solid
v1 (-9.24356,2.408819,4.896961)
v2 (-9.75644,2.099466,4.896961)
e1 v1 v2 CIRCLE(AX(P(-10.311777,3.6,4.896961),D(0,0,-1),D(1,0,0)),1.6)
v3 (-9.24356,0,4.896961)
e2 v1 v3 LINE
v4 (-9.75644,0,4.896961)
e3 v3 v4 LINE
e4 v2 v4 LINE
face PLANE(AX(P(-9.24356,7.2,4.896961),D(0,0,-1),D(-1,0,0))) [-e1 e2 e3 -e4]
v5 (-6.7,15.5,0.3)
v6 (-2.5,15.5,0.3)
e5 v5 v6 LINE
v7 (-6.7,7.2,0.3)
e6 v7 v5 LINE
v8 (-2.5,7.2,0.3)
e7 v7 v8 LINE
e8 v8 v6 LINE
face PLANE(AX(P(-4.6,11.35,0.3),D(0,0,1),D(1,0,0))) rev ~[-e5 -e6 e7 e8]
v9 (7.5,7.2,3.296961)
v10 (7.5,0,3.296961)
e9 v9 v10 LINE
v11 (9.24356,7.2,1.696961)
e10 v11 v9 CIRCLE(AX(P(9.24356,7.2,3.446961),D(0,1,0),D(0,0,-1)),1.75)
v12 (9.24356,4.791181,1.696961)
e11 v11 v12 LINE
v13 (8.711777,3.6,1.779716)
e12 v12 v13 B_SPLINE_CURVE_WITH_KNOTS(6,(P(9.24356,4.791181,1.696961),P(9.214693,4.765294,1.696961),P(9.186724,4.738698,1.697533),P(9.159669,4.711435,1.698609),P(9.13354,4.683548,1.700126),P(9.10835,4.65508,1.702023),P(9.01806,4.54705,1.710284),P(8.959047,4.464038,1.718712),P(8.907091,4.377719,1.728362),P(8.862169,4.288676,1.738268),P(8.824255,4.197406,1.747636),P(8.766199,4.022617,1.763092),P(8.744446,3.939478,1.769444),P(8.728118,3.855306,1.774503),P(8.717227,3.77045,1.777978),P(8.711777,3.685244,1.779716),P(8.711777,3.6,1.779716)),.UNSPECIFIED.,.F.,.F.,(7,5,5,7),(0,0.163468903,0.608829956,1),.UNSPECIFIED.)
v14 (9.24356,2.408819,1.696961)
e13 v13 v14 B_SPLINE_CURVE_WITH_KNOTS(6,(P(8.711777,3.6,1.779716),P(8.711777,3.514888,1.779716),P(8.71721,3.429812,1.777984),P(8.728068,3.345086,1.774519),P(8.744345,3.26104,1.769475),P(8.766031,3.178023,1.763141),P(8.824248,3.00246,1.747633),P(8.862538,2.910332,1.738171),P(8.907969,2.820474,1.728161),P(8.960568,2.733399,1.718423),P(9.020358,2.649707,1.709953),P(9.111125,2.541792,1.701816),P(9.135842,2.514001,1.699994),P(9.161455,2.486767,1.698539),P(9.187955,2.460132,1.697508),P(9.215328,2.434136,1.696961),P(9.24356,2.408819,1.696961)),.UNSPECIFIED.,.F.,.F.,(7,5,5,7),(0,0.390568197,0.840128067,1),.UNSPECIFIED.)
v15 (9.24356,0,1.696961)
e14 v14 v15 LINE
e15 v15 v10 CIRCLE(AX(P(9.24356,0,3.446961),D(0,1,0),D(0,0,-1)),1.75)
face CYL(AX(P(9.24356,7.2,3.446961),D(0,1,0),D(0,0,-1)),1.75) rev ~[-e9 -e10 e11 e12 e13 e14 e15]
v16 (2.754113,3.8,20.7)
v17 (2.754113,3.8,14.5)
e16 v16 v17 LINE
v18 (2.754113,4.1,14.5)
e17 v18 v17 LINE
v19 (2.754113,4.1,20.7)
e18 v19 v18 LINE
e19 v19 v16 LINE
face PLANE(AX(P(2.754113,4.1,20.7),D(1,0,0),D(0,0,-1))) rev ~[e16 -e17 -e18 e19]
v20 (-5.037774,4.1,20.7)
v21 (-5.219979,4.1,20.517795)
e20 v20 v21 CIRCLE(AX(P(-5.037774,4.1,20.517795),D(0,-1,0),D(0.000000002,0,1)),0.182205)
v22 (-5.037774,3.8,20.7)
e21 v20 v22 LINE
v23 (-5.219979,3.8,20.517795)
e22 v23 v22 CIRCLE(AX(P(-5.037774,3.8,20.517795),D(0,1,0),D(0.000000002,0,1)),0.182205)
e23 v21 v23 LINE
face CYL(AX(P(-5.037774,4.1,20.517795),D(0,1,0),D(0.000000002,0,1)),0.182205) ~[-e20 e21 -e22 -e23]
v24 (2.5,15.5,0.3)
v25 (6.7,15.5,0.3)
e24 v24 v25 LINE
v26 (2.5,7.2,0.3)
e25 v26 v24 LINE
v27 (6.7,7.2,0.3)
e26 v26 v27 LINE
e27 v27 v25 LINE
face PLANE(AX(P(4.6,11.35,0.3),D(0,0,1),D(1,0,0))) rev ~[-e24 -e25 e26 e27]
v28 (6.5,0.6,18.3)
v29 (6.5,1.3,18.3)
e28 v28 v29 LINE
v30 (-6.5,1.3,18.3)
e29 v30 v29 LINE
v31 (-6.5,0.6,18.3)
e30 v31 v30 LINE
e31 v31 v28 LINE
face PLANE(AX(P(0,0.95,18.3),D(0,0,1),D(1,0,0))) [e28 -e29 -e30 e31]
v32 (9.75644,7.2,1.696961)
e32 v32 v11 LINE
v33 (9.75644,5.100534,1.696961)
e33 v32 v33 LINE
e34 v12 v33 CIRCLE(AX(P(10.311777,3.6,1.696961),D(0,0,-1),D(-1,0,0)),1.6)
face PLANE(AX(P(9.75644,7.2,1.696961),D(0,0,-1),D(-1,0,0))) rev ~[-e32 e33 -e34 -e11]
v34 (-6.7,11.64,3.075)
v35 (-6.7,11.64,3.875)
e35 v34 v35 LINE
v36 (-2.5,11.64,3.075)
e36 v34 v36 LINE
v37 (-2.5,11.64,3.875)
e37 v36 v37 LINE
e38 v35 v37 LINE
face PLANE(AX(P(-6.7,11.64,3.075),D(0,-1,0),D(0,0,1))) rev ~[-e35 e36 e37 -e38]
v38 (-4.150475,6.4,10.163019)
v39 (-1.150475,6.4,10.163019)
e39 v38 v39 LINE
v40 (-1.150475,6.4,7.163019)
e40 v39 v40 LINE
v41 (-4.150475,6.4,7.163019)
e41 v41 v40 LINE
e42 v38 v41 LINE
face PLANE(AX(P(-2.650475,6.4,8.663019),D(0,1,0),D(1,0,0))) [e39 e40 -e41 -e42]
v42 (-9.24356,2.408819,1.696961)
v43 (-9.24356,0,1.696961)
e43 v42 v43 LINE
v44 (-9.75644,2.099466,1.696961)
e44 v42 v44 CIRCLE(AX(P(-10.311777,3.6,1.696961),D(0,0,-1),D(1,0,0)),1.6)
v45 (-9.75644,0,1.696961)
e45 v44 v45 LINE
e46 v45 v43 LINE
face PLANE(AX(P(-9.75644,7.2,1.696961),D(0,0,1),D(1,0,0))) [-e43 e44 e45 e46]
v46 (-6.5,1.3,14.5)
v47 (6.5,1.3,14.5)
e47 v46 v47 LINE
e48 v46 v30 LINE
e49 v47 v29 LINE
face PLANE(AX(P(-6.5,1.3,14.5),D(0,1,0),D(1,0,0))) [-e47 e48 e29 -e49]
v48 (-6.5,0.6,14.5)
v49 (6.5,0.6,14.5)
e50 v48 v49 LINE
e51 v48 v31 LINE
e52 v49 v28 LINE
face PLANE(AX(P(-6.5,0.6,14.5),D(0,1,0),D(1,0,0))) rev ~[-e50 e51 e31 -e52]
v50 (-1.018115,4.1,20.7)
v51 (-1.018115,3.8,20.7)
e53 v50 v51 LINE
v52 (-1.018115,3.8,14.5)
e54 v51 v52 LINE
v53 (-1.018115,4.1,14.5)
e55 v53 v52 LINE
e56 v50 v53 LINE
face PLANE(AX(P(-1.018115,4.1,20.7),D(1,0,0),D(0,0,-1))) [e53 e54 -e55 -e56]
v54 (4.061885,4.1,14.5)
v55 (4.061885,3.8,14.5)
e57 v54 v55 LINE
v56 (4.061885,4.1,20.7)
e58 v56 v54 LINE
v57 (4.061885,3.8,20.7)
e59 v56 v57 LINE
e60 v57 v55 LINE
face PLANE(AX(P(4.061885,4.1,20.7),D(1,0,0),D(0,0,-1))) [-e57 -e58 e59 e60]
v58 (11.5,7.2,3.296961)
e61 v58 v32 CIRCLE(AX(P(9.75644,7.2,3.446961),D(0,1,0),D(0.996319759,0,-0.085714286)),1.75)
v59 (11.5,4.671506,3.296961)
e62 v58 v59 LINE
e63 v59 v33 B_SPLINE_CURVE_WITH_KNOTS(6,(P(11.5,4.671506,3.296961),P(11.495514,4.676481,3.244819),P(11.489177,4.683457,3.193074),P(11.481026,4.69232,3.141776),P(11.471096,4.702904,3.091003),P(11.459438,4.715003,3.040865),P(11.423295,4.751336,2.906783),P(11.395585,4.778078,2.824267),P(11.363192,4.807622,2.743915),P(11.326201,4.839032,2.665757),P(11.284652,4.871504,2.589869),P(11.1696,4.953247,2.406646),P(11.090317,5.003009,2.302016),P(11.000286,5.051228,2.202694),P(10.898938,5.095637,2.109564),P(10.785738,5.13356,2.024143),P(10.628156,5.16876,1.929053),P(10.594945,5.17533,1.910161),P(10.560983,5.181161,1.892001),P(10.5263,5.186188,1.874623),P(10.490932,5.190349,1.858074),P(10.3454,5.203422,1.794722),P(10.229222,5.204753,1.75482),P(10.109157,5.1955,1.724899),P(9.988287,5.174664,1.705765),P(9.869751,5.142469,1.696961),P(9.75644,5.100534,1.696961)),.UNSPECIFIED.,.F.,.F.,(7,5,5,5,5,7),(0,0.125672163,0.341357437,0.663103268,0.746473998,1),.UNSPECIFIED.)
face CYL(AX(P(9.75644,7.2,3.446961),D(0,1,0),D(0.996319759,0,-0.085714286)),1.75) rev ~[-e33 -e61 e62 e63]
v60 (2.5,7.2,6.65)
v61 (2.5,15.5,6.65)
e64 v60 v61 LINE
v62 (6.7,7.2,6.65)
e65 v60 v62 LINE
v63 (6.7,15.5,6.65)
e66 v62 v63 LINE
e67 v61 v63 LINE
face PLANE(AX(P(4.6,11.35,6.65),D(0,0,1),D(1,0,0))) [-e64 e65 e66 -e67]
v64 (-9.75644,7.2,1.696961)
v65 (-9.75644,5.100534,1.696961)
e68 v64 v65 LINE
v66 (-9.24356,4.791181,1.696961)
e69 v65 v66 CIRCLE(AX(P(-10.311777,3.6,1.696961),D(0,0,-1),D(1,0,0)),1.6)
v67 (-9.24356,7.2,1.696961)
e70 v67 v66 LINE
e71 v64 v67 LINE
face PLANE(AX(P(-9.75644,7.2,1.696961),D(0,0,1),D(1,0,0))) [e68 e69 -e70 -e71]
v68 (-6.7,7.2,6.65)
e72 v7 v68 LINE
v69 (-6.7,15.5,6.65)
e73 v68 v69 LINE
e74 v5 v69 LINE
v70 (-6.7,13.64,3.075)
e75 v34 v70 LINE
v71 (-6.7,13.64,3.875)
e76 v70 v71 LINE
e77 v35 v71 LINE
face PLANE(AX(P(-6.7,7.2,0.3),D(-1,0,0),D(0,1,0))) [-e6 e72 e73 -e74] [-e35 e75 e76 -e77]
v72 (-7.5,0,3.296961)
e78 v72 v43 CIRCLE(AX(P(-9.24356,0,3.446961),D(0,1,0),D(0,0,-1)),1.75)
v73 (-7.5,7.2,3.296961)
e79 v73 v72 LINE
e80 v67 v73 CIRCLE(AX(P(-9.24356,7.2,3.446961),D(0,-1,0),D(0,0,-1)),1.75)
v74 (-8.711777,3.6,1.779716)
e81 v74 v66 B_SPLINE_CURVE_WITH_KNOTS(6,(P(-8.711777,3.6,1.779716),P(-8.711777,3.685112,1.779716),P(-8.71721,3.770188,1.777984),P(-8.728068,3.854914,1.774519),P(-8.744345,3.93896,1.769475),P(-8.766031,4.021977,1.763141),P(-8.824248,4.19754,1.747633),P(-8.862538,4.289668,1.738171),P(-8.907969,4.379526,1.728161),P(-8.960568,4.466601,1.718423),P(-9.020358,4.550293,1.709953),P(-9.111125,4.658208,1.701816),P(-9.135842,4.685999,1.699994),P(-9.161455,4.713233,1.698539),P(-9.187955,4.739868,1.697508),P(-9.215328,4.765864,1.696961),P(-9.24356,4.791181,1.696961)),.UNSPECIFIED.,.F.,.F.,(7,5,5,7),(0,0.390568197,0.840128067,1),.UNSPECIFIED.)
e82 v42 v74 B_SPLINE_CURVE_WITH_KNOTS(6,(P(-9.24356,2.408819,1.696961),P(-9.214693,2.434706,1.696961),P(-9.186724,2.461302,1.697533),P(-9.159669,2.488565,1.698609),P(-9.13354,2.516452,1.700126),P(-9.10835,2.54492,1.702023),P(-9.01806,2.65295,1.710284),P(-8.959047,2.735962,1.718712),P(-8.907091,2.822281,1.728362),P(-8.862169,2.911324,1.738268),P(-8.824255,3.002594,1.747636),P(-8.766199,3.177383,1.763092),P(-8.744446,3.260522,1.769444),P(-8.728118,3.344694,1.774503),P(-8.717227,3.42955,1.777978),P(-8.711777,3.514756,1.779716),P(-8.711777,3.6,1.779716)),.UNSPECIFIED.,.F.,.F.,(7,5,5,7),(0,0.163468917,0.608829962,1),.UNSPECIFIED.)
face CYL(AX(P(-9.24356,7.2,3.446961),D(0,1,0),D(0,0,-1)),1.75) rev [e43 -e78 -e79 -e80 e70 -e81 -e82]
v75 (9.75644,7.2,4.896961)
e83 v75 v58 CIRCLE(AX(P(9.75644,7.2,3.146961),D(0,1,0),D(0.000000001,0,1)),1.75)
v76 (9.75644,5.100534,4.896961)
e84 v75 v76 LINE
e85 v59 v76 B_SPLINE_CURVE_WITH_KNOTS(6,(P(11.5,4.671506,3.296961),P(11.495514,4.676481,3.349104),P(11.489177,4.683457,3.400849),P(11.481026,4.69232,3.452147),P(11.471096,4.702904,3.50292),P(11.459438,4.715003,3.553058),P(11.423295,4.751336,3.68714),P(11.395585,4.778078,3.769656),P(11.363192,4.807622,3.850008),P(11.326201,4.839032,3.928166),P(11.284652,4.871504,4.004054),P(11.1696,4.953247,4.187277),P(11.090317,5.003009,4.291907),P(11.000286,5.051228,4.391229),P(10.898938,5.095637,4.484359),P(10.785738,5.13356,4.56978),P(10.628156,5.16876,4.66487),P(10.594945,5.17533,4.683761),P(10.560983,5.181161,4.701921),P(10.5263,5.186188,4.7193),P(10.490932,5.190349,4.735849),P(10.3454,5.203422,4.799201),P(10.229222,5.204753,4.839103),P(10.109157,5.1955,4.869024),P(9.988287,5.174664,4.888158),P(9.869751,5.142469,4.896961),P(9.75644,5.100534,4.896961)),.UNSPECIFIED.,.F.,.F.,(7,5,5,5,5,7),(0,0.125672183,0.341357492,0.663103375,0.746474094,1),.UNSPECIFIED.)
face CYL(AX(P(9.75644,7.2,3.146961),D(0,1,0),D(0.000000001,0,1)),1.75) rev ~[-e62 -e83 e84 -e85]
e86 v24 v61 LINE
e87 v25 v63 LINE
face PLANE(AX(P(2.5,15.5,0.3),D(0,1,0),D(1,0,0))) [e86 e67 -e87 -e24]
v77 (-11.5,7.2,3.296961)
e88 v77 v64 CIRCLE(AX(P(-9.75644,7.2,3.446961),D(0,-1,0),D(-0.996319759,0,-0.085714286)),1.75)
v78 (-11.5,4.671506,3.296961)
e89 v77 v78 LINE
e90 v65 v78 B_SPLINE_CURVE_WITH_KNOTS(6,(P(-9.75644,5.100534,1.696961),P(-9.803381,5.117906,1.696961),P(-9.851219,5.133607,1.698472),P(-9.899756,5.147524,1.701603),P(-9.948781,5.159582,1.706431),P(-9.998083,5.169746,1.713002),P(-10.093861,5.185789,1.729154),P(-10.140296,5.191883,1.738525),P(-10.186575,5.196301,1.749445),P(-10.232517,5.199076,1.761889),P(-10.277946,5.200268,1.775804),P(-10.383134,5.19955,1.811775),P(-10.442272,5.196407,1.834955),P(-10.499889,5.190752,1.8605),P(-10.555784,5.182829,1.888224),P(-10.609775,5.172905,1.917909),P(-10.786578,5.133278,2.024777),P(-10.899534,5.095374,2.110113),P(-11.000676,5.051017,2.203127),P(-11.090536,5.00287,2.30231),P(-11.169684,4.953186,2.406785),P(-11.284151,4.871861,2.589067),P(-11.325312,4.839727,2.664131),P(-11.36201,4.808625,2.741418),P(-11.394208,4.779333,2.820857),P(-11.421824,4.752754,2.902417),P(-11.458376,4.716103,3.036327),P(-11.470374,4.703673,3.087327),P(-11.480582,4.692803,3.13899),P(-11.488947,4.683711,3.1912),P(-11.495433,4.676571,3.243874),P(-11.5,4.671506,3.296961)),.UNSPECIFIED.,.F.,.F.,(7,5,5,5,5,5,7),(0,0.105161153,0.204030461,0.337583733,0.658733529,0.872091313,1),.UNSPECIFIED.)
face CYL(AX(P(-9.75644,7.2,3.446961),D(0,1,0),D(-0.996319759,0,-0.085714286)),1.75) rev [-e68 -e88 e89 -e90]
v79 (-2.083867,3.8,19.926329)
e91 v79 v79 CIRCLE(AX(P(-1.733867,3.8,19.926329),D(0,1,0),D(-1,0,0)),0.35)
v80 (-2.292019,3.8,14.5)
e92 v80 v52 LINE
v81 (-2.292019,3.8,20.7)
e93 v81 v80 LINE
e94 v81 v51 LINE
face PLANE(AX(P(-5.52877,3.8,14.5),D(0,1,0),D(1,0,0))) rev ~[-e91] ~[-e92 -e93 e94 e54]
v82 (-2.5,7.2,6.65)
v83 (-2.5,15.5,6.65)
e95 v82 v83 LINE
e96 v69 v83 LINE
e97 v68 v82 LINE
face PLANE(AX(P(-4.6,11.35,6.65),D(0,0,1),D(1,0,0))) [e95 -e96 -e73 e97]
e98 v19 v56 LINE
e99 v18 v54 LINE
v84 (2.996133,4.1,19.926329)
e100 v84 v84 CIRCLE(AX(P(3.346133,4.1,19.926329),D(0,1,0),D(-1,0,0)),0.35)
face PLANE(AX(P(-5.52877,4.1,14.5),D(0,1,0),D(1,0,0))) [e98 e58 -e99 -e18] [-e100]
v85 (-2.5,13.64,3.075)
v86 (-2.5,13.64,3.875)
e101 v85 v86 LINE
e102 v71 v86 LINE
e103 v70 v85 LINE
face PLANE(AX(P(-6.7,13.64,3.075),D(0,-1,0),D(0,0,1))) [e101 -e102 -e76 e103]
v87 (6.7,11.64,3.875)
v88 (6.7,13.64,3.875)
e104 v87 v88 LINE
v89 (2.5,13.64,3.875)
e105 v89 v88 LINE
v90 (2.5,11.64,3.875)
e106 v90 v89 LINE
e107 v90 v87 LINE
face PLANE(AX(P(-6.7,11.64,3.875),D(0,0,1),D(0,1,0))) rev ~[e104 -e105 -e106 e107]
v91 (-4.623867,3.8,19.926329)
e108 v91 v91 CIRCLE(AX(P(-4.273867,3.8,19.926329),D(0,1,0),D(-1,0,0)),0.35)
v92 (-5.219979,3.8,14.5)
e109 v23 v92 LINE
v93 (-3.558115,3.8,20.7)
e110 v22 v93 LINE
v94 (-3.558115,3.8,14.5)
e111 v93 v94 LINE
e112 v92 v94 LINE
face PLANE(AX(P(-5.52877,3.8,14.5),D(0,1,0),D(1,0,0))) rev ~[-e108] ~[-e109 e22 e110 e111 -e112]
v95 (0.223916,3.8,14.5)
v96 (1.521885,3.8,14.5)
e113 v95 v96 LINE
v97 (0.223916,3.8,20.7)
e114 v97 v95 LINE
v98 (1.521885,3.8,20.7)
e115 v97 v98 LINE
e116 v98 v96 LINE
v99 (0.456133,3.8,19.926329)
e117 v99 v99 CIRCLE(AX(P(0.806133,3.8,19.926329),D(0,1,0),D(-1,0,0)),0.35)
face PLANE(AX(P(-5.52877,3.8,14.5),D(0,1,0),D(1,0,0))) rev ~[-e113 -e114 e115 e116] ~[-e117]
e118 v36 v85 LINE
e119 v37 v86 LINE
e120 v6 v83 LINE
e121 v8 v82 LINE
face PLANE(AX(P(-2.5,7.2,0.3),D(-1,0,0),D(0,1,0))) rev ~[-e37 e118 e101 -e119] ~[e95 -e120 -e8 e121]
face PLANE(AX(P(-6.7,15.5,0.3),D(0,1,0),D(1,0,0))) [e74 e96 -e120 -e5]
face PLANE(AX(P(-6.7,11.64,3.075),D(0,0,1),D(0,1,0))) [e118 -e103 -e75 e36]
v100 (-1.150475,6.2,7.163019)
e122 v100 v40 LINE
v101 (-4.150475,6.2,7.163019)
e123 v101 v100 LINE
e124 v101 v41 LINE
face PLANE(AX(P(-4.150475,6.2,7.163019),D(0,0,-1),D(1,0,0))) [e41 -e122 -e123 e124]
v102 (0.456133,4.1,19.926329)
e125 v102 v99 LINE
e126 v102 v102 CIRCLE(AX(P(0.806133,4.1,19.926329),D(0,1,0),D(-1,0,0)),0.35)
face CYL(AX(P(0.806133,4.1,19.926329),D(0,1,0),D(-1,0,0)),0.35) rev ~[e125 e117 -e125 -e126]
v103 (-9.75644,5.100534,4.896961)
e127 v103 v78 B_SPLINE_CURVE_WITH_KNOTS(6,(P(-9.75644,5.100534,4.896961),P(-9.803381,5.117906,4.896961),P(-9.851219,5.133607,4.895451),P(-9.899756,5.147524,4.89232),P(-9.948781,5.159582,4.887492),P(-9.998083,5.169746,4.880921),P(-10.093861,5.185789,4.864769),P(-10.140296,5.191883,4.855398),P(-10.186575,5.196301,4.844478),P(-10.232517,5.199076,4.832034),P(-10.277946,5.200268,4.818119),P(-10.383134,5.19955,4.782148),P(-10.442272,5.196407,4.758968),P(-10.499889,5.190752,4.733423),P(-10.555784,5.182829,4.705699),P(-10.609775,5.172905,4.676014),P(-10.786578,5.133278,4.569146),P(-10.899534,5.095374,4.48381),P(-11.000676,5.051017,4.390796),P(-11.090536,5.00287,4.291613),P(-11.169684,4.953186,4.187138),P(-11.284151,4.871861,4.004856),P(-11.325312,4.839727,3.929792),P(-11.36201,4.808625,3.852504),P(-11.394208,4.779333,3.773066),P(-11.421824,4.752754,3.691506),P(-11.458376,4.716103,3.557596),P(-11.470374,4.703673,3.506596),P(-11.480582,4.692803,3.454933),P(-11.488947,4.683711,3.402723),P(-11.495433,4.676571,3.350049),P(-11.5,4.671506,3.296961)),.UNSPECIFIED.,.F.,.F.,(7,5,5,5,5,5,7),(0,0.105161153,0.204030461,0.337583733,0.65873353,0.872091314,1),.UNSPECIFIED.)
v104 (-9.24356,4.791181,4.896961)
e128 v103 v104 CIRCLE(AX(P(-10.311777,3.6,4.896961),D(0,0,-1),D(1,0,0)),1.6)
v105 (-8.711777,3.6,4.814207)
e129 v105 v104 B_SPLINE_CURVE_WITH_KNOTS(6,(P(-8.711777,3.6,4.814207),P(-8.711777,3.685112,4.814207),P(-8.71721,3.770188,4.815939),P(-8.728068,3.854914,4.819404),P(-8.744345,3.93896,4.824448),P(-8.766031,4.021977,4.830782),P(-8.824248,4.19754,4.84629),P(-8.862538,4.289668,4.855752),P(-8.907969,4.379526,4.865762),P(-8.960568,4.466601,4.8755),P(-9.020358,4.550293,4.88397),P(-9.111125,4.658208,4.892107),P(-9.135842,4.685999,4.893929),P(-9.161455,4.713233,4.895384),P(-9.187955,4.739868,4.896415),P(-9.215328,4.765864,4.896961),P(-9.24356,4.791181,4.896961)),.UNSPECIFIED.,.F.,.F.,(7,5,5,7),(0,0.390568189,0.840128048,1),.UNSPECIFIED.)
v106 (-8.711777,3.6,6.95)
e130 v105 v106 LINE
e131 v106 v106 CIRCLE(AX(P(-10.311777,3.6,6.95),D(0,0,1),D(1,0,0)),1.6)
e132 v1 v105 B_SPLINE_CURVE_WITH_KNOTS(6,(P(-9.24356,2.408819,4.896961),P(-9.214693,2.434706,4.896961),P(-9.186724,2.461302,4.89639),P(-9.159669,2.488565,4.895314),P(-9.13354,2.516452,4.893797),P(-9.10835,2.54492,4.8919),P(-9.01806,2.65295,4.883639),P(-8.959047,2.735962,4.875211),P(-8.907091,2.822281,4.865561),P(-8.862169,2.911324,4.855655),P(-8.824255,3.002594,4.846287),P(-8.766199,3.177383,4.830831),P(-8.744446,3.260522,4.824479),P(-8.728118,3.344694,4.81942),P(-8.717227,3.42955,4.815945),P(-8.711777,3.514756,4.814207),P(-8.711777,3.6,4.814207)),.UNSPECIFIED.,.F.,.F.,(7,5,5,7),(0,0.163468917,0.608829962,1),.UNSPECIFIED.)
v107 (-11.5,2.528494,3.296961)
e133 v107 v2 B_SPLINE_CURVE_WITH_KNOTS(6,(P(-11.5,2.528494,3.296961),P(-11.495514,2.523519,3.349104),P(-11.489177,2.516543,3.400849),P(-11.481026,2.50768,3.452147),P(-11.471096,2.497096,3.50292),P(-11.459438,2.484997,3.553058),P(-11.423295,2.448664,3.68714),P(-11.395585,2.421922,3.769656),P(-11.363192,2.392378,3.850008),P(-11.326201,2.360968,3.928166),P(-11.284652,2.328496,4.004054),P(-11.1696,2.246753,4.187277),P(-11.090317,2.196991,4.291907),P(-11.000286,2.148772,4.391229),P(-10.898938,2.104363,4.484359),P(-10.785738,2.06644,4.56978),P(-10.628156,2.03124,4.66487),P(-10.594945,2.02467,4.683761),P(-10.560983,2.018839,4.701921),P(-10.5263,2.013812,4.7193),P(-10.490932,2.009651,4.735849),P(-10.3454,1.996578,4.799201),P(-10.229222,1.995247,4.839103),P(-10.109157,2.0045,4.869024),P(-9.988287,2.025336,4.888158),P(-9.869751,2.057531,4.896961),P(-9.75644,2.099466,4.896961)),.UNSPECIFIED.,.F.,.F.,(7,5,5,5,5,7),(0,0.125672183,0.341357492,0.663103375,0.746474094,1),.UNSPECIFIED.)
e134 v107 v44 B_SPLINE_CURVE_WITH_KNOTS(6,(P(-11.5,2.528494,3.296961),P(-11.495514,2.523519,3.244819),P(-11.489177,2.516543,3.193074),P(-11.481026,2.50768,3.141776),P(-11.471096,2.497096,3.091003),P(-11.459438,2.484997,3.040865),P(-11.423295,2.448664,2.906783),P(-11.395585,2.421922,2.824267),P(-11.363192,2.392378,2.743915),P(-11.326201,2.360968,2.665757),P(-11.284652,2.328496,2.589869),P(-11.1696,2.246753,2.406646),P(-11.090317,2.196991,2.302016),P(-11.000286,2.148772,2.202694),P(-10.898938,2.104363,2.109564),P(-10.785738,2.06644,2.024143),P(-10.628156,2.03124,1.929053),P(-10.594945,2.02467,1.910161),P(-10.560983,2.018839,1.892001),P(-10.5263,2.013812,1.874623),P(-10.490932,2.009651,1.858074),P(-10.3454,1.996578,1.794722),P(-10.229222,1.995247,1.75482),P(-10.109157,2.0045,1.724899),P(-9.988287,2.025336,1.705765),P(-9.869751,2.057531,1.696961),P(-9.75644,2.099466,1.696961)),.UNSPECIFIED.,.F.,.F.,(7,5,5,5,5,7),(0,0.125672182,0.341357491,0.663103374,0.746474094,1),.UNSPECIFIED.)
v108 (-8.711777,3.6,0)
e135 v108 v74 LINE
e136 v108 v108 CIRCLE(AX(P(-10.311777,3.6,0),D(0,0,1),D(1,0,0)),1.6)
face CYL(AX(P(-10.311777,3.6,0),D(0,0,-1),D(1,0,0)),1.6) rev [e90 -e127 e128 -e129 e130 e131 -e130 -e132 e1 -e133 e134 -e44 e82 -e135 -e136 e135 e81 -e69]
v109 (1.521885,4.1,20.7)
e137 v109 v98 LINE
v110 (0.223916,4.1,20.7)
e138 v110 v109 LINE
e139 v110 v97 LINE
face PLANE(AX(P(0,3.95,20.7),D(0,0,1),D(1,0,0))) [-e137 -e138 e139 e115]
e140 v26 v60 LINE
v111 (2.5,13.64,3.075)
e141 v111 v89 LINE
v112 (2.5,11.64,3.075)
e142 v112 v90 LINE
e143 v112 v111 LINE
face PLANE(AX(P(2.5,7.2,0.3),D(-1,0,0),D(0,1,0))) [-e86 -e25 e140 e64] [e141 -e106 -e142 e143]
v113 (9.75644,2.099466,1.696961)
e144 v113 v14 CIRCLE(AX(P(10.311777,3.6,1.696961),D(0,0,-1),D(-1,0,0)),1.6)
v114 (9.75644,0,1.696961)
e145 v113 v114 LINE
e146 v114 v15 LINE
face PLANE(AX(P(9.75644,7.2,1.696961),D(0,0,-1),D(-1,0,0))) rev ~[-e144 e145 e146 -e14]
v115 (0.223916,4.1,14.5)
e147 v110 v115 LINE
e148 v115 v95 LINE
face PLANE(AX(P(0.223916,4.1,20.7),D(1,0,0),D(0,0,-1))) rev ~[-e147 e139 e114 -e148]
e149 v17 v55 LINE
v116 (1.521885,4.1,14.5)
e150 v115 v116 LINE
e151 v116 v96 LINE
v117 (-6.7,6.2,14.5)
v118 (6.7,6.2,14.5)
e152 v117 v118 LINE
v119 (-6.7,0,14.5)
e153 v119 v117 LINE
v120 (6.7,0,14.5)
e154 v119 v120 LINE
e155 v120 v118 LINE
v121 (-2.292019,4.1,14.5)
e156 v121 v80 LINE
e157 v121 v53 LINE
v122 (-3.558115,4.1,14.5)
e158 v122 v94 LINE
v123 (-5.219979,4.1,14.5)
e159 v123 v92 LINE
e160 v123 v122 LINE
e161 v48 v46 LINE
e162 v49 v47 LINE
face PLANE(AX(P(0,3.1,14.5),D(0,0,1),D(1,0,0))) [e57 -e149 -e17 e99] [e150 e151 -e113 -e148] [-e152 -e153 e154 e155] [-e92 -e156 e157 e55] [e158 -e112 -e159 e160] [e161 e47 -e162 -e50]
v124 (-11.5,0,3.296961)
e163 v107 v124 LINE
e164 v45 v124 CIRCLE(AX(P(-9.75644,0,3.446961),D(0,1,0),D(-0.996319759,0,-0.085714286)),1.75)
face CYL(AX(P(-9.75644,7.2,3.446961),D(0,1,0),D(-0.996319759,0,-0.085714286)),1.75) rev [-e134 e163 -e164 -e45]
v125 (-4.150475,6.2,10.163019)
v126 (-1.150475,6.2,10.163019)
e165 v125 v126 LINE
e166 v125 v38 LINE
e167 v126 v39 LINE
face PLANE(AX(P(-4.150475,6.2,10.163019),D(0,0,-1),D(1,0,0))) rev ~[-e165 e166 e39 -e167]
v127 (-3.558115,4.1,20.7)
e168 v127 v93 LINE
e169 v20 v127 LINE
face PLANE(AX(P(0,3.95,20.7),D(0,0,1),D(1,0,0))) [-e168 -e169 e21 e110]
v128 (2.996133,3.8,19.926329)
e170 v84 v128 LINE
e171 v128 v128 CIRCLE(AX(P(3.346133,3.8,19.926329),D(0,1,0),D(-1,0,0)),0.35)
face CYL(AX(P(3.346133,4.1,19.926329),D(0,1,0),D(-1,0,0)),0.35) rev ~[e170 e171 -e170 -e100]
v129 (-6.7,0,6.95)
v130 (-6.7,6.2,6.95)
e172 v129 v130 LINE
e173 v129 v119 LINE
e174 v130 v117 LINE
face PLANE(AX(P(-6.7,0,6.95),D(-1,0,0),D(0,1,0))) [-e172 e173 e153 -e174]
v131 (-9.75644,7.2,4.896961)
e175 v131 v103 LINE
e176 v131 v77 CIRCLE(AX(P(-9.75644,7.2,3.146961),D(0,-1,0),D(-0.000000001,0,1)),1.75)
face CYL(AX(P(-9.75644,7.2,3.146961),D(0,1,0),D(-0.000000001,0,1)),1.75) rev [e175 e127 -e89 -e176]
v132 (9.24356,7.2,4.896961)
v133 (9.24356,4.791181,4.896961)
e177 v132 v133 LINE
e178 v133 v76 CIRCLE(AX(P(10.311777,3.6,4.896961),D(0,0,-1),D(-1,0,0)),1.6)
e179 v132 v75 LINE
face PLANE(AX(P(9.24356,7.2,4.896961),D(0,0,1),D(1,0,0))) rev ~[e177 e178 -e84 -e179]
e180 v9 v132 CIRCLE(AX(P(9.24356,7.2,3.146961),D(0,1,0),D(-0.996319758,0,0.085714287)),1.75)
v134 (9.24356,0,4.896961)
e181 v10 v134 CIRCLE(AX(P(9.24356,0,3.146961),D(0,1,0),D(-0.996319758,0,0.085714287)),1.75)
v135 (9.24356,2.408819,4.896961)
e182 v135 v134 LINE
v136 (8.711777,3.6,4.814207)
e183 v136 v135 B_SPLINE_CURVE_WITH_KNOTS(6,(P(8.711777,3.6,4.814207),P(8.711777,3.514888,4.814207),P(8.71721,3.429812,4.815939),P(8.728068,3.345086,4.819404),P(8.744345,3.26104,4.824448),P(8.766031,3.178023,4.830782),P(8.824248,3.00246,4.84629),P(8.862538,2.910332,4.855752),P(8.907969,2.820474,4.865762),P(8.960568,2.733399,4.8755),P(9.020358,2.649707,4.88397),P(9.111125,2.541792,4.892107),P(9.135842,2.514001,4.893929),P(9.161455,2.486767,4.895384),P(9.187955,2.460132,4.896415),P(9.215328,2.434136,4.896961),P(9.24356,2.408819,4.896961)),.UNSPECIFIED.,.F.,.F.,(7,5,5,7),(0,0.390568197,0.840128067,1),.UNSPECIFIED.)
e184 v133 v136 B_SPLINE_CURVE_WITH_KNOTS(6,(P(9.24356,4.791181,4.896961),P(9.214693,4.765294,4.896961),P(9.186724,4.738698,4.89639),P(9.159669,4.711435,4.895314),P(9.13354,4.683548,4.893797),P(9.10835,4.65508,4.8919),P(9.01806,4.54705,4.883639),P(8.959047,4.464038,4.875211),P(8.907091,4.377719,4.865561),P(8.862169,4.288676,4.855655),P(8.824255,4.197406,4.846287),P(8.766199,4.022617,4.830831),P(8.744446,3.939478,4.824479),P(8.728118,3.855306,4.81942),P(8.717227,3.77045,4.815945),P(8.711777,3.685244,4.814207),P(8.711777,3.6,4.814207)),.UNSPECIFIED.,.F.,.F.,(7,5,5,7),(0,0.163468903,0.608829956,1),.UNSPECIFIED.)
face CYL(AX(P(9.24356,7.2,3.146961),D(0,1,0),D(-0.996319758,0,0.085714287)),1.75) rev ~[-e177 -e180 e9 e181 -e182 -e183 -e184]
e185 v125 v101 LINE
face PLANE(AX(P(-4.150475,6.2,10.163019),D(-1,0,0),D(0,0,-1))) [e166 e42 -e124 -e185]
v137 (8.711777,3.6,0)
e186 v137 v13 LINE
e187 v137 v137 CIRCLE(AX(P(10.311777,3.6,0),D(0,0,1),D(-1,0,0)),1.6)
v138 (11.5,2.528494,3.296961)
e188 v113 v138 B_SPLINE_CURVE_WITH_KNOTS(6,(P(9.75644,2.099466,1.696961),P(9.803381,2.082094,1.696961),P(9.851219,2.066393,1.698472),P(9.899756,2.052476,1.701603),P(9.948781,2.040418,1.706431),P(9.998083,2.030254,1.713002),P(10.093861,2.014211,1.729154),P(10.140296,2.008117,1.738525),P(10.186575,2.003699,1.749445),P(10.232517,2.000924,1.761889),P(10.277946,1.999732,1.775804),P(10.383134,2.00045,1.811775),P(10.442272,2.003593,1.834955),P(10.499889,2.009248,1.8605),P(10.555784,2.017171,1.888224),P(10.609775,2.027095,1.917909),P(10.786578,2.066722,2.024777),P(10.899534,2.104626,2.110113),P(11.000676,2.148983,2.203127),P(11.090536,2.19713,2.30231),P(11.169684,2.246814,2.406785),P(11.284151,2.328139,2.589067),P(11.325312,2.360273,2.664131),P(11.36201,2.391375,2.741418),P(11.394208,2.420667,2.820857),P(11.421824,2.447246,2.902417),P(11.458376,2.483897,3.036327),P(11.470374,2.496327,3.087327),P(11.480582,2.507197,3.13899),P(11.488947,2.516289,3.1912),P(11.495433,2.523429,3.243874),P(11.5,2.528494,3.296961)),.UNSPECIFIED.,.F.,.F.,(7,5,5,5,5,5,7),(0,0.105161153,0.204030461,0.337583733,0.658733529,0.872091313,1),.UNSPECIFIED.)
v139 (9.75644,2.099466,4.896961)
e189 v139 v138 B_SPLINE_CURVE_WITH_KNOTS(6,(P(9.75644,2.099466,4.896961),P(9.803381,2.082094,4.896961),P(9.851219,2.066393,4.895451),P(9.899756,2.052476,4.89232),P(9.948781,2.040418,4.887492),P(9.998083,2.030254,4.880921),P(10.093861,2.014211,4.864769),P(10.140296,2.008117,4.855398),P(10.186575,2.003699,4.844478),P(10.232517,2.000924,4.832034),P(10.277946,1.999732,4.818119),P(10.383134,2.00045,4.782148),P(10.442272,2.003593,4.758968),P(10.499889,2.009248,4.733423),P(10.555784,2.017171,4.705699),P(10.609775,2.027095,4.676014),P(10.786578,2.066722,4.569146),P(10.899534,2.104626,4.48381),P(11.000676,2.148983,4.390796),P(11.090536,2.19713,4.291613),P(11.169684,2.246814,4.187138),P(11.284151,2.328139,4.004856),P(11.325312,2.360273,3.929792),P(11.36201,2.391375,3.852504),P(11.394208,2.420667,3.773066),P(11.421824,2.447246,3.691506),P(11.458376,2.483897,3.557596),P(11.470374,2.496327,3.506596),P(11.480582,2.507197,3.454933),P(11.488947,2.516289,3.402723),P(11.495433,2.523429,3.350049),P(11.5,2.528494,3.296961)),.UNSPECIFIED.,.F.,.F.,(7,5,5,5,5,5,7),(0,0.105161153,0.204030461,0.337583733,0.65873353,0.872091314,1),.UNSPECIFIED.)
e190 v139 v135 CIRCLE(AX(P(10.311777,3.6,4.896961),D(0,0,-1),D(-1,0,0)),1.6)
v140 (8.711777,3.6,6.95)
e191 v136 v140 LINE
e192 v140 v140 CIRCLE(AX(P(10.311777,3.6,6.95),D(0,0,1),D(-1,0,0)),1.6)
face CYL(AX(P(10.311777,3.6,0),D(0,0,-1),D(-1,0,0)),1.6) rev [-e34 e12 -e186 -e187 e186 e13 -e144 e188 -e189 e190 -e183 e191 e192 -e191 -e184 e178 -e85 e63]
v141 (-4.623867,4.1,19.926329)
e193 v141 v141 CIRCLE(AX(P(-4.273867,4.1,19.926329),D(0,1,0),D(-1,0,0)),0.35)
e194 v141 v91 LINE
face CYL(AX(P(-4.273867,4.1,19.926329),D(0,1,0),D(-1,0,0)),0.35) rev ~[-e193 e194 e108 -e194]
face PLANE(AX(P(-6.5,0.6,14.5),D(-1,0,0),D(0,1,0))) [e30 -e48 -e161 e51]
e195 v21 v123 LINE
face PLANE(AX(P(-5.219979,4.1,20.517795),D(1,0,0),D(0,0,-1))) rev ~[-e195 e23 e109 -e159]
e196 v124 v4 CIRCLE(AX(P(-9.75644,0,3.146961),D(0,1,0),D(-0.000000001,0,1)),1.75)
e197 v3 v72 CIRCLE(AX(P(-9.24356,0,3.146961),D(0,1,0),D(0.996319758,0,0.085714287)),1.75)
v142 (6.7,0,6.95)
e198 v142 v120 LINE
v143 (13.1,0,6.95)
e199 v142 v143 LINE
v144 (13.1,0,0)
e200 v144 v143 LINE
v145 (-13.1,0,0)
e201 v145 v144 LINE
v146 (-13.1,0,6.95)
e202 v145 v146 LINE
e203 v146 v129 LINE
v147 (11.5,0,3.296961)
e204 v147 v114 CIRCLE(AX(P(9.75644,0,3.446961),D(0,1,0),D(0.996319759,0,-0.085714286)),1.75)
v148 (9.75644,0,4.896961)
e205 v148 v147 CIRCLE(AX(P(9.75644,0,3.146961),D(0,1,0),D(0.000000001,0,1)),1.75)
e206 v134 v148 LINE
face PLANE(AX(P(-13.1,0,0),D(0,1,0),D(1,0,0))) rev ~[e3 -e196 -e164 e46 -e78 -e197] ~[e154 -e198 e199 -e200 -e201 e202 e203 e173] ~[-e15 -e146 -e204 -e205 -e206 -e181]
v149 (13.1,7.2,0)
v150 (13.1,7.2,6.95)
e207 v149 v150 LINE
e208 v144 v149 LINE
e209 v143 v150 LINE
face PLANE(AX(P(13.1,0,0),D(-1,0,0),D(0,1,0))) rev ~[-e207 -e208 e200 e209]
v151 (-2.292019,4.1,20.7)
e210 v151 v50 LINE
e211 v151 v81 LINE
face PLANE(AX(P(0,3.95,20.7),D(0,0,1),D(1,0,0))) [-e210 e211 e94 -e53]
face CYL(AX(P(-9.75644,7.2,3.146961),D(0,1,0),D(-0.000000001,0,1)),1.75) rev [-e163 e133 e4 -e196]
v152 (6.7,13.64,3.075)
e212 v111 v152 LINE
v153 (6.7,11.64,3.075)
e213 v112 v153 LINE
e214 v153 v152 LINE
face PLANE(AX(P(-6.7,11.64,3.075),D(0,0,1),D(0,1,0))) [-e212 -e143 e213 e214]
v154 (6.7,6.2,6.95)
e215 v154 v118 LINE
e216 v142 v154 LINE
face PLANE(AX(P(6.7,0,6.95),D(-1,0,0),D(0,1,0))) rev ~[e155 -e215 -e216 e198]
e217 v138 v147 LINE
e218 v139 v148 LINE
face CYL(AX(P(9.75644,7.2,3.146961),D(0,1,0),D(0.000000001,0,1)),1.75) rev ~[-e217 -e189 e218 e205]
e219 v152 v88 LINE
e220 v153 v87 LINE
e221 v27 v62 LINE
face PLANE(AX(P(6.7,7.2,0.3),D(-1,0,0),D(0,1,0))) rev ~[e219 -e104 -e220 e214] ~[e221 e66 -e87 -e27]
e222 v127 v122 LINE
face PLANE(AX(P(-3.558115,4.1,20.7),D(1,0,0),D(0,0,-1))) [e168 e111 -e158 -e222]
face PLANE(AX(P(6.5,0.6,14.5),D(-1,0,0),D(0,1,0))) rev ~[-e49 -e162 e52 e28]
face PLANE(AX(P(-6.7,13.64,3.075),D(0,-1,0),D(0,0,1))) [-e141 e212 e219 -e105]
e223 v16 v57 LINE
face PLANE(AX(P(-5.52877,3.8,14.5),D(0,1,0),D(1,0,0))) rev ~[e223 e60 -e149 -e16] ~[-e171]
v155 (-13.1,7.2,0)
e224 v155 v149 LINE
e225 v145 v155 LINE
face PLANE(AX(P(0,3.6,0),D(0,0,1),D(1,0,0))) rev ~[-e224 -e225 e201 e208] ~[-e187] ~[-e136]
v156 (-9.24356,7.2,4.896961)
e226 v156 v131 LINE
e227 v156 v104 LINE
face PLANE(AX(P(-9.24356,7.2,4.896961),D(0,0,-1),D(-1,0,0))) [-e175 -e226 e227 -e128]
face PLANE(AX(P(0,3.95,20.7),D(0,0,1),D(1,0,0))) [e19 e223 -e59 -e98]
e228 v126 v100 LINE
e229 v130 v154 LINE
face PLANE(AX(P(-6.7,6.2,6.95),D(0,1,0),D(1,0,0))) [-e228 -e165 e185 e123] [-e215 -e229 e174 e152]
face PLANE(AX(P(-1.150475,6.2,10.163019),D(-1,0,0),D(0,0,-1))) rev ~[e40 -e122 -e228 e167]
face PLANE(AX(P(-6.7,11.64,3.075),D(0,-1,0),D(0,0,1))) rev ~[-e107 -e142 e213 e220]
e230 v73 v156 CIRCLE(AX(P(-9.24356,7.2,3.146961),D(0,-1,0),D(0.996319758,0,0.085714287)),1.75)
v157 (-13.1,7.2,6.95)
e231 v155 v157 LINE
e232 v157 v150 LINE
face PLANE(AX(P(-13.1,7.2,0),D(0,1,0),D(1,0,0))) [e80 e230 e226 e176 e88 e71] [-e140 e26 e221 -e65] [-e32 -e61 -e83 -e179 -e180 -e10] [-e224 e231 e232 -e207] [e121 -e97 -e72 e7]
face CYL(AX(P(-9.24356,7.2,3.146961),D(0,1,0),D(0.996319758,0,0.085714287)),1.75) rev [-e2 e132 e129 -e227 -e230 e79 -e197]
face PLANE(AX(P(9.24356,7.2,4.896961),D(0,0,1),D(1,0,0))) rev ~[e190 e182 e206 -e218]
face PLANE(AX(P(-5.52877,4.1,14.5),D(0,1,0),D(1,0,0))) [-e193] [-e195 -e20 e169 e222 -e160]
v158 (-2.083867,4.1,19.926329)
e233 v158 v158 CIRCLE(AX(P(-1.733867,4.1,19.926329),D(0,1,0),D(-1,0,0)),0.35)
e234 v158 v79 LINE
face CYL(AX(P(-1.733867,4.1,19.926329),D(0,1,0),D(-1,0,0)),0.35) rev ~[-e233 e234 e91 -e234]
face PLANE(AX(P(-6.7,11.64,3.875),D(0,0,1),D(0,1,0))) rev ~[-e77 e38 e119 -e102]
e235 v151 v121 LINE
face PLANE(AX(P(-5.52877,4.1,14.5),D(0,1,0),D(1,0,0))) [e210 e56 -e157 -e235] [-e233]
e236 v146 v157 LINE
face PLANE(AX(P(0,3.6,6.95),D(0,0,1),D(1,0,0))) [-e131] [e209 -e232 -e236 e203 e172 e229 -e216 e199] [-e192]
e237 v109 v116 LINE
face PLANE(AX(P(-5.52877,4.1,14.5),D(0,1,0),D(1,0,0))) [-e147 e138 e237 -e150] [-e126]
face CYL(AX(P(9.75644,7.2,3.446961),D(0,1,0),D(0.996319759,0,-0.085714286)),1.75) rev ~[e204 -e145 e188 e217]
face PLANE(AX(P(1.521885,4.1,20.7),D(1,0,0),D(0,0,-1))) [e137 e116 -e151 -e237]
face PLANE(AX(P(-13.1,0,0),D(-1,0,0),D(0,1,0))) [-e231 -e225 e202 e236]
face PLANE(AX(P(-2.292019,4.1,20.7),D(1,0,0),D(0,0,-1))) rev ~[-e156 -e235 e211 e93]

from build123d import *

# Parameters (mm, degrees)
SKETCH1_W                = 26.2
SKETCH1_H                = 7.2
SKETCH1_R                = 1.6
BOSS_EXTRUDE1_DEPTH      = 6.95
BOSS_EXTRUDE2_DEPTH      = 3.175
BOSS_EXTRUDE2_DEPTH_BACK = 3.175
SKETCH2_W                = 4.2
SKETCH2_H                = 8.3
SKETCH3_W                = 0.8
SKETCH3_H                = 2
CUT_EXTRUDE1_DEPTH       = 27.088167816
SKETCH4_W                = 13.4
SKETCH4_H                = 6.2
BOSS_EXTRUDE3_DEPTH      = 7.55
SKETCH5_W                = 13
SKETCH5_H                = 0.7
BOSS_EXTRUDE4_DEPTH      = 3.8
SKETCH6_W                = 11.057539052
SKETCH6_H                = 0.3
BOSS_EXTRUDE5_DEPTH      = 6.2
SKETCH7_R                = 0.35
SKETCH7_W                = 0.673728729
SKETCH7_H                = 6.2
SKETCH7_W_2              = 0.592367936
SKETCH7_W_3              = 0.568302757
SKETCH7_W_4              = 0.558499764
SKETCH7_W_5              = 0.793155974
CUT_EXTRUDE3_DEPTH       = 2
CUT_EXTRUDE4_DEPTH       = 26.864841001
SKETCH10_W               = 3
SKETCH10_H               = 3
BOSS_EXTRUDE6_DEPTH      = 0.2


with BuildPart() as part:
    # Sketch1 → Boss-Extrude1 (new body)
    with BuildSketch(Plane.XY):
        with Locations((0, 3.6)):
            Rectangle(SKETCH1_W, SKETCH1_H)
        with Locations((-10.311776953, 3.6)):
            Circle(SKETCH1_R, mode=Mode.SUBTRACT)
        with Locations(Location((10.311776953, 3.6, 0), (0, 0, 180))):
            Circle(SKETCH1_R, mode=Mode.SUBTRACT)
    extrude(amount=BOSS_EXTRUDE1_DEPTH)

    # Sketch2 → Boss-Extrude2 (add, two sides: drawn at the far end of the back side and taken through both)
    with BuildSketch(Plane.XY.offset(3.475).offset(-BOSS_EXTRUDE2_DEPTH_BACK)):
        with Locations((-4.6, 11.35)):
            Rectangle(SKETCH2_W, SKETCH2_H)
        with Locations((4.6, 11.35)):
            Rectangle(SKETCH2_W, SKETCH2_H)
    extrude(amount=BOSS_EXTRUDE2_DEPTH + BOSS_EXTRUDE2_DEPTH_BACK)

    # Sketch3 → Cut-Extrude1 (cut, through all)
    with BuildSketch(Plane.ZY.offset(6.7)):
        with Locations((3.475, 12.64)):
            Rectangle(SKETCH3_W, SKETCH3_H)
    extrude(amount=-CUT_EXTRUDE1_DEPTH, mode=Mode.SUBTRACT)

    # Sketch4 → Boss-Extrude3 (add)
    with BuildSketch(Plane.XY.offset(6.95)):
        with Locations((0, 3.1)):
            Rectangle(SKETCH4_W, SKETCH4_H)
    extrude(amount=BOSS_EXTRUDE3_DEPTH)

    # Sketch5 → Boss-Extrude4 (add)
    with BuildSketch(Plane.XY.offset(14.5)):
        with Locations((0, 0.95)):
            Rectangle(SKETCH5_W, SKETCH5_H)
    extrude(amount=BOSS_EXTRUDE4_DEPTH)

    # Sketch6 → Boss-Extrude5 (add)
    with BuildSketch(Plane.XY.offset(14.5)):
        with Locations((0, 3.95)):
            Rectangle(SKETCH6_W, SKETCH6_H)
    extrude(amount=BOSS_EXTRUDE5_DEPTH)

    # Sketch7 → Cut-Extrude3 (cut)
    with BuildSketch(Plane(origin=(0, 4.1, 0), x_dir=(1, 0, 0), z_dir=(0, 1, 0))):
        Polygon((-5.219979377, -20.517795083), (-5.219979377, -14.5), (-5.528769526, -14.5), (-5.528769526, -20.7), (-5.219979377, -20.7), align=None)
        with Locations(Location((-4.273866855, -19.926328783, 0), (0, 0, 180))):
            Circle(SKETCH7_R)
        with Locations((-3.221250813, -17.6)):
            Rectangle(SKETCH7_W, SKETCH7_H)
        with Locations((-2.58820248, -17.6)):
            Rectangle(SKETCH7_W_2, SKETCH7_H)
        with Locations(Location((-1.733866855, -19.926328783, 0), (0, 0, 180))):
            Circle(SKETCH7_R)
        with Locations((-0.681250813, -17.6)):
            Rectangle(SKETCH7_W, SKETCH7_H)
        with Locations((-0.06023507, -17.6)):
            Rectangle(SKETCH7_W_3, SKETCH7_H)
        with Locations((1.858749188, -17.6)):
            Rectangle(SKETCH7_W, SKETCH7_H)
        with Locations((2.474863434, -17.6)):
            Rectangle(SKETCH7_W_4, SKETCH7_H)
        with Locations((4.398749187, -17.6)):
            Rectangle(SKETCH7_W, SKETCH7_H)
        with Locations((5.132191539, -17.6)):
            Rectangle(SKETCH7_W_5, SKETCH7_H)
        with BuildLine():
            Line((-5.219979377, -20.7), (-5.03777446, -20.7))
            ThreePointArc((-5.03777446, -20.7), (-5.166612793, -20.646633415), (-5.219979377, -20.517795083))
            Line((-5.219979377, -20.517795083), (-5.219979377, -20.7))
        make_face()
        with Locations(Location((0.806133145, -19.926328783, 0), (0, 0, 180))):
            Circle(SKETCH7_R)
        with Locations(Location((3.346133145, -19.926328783, 0), (0, 0, 180))):
            Circle(SKETCH7_R)
    extrude(amount=-CUT_EXTRUDE3_DEPTH, mode=Mode.SUBTRACT)

    # Sketch9 → Cut-Extrude4 (cut, through all)
    with BuildSketch(Plane(origin=(0, 7.2, 0), x_dir=(1, 0, 0), z_dir=(0, 1, 0))):
        with BuildLine():
            Line((9.243559577, -4.896961438), (9.756440423, -4.896961438))
            ThreePointArc((9.756440423, -4.896961438), (10.939656379, -4.436341133), (11.5, -3.296961438))
            ThreePointArc((11.5, -3.296961438), (10.939656379, -2.157581742), (9.756440423, -1.696961438))
            Line((9.756440423, -1.696961438), (9.243559577, -1.696961438))
            ThreePointArc((9.243559577, -1.696961438), (8.060343621, -2.157581742), (7.5, -3.296961438))
            ThreePointArc((7.5, -3.296961438), (8.060343621, -4.436341133), (9.243559577, -4.896961438))
        make_face()
        with BuildLine():
            Line((-9.243559577, -4.896961438), (-9.756440423, -4.896961438))
            ThreePointArc((-9.756440423, -4.896961438), (-10.939656379, -4.436341133), (-11.5, -3.296961438))
            ThreePointArc((-11.5, -3.296961438), (-10.939656379, -2.157581742), (-9.756440423, -1.696961438))
            Line((-9.756440423, -1.696961438), (-9.243559577, -1.696961438))
            ThreePointArc((-9.243559577, -1.696961438), (-8.060343621, -2.157581742), (-7.5, -3.296961438))
            ThreePointArc((-7.5, -3.296961438), (-8.060343621, -4.436341133), (-9.243559577, -4.896961438))
        make_face()
    extrude(amount=-CUT_EXTRUDE4_DEPTH, mode=Mode.SUBTRACT)

    # Sketch10 → Boss-Extrude6 (add)
    with BuildSketch(Plane(origin=(0, 6.2, 0), x_dir=(1, 0, 0), z_dir=(0, 1, 0))):
        with Locations((-2.650474803, -8.66301906)):
            Rectangle(SKETCH10_W, SKETCH10_H)
    extrude(amount=BOSS_EXTRUDE6_DEPTH)


solid = part.part
